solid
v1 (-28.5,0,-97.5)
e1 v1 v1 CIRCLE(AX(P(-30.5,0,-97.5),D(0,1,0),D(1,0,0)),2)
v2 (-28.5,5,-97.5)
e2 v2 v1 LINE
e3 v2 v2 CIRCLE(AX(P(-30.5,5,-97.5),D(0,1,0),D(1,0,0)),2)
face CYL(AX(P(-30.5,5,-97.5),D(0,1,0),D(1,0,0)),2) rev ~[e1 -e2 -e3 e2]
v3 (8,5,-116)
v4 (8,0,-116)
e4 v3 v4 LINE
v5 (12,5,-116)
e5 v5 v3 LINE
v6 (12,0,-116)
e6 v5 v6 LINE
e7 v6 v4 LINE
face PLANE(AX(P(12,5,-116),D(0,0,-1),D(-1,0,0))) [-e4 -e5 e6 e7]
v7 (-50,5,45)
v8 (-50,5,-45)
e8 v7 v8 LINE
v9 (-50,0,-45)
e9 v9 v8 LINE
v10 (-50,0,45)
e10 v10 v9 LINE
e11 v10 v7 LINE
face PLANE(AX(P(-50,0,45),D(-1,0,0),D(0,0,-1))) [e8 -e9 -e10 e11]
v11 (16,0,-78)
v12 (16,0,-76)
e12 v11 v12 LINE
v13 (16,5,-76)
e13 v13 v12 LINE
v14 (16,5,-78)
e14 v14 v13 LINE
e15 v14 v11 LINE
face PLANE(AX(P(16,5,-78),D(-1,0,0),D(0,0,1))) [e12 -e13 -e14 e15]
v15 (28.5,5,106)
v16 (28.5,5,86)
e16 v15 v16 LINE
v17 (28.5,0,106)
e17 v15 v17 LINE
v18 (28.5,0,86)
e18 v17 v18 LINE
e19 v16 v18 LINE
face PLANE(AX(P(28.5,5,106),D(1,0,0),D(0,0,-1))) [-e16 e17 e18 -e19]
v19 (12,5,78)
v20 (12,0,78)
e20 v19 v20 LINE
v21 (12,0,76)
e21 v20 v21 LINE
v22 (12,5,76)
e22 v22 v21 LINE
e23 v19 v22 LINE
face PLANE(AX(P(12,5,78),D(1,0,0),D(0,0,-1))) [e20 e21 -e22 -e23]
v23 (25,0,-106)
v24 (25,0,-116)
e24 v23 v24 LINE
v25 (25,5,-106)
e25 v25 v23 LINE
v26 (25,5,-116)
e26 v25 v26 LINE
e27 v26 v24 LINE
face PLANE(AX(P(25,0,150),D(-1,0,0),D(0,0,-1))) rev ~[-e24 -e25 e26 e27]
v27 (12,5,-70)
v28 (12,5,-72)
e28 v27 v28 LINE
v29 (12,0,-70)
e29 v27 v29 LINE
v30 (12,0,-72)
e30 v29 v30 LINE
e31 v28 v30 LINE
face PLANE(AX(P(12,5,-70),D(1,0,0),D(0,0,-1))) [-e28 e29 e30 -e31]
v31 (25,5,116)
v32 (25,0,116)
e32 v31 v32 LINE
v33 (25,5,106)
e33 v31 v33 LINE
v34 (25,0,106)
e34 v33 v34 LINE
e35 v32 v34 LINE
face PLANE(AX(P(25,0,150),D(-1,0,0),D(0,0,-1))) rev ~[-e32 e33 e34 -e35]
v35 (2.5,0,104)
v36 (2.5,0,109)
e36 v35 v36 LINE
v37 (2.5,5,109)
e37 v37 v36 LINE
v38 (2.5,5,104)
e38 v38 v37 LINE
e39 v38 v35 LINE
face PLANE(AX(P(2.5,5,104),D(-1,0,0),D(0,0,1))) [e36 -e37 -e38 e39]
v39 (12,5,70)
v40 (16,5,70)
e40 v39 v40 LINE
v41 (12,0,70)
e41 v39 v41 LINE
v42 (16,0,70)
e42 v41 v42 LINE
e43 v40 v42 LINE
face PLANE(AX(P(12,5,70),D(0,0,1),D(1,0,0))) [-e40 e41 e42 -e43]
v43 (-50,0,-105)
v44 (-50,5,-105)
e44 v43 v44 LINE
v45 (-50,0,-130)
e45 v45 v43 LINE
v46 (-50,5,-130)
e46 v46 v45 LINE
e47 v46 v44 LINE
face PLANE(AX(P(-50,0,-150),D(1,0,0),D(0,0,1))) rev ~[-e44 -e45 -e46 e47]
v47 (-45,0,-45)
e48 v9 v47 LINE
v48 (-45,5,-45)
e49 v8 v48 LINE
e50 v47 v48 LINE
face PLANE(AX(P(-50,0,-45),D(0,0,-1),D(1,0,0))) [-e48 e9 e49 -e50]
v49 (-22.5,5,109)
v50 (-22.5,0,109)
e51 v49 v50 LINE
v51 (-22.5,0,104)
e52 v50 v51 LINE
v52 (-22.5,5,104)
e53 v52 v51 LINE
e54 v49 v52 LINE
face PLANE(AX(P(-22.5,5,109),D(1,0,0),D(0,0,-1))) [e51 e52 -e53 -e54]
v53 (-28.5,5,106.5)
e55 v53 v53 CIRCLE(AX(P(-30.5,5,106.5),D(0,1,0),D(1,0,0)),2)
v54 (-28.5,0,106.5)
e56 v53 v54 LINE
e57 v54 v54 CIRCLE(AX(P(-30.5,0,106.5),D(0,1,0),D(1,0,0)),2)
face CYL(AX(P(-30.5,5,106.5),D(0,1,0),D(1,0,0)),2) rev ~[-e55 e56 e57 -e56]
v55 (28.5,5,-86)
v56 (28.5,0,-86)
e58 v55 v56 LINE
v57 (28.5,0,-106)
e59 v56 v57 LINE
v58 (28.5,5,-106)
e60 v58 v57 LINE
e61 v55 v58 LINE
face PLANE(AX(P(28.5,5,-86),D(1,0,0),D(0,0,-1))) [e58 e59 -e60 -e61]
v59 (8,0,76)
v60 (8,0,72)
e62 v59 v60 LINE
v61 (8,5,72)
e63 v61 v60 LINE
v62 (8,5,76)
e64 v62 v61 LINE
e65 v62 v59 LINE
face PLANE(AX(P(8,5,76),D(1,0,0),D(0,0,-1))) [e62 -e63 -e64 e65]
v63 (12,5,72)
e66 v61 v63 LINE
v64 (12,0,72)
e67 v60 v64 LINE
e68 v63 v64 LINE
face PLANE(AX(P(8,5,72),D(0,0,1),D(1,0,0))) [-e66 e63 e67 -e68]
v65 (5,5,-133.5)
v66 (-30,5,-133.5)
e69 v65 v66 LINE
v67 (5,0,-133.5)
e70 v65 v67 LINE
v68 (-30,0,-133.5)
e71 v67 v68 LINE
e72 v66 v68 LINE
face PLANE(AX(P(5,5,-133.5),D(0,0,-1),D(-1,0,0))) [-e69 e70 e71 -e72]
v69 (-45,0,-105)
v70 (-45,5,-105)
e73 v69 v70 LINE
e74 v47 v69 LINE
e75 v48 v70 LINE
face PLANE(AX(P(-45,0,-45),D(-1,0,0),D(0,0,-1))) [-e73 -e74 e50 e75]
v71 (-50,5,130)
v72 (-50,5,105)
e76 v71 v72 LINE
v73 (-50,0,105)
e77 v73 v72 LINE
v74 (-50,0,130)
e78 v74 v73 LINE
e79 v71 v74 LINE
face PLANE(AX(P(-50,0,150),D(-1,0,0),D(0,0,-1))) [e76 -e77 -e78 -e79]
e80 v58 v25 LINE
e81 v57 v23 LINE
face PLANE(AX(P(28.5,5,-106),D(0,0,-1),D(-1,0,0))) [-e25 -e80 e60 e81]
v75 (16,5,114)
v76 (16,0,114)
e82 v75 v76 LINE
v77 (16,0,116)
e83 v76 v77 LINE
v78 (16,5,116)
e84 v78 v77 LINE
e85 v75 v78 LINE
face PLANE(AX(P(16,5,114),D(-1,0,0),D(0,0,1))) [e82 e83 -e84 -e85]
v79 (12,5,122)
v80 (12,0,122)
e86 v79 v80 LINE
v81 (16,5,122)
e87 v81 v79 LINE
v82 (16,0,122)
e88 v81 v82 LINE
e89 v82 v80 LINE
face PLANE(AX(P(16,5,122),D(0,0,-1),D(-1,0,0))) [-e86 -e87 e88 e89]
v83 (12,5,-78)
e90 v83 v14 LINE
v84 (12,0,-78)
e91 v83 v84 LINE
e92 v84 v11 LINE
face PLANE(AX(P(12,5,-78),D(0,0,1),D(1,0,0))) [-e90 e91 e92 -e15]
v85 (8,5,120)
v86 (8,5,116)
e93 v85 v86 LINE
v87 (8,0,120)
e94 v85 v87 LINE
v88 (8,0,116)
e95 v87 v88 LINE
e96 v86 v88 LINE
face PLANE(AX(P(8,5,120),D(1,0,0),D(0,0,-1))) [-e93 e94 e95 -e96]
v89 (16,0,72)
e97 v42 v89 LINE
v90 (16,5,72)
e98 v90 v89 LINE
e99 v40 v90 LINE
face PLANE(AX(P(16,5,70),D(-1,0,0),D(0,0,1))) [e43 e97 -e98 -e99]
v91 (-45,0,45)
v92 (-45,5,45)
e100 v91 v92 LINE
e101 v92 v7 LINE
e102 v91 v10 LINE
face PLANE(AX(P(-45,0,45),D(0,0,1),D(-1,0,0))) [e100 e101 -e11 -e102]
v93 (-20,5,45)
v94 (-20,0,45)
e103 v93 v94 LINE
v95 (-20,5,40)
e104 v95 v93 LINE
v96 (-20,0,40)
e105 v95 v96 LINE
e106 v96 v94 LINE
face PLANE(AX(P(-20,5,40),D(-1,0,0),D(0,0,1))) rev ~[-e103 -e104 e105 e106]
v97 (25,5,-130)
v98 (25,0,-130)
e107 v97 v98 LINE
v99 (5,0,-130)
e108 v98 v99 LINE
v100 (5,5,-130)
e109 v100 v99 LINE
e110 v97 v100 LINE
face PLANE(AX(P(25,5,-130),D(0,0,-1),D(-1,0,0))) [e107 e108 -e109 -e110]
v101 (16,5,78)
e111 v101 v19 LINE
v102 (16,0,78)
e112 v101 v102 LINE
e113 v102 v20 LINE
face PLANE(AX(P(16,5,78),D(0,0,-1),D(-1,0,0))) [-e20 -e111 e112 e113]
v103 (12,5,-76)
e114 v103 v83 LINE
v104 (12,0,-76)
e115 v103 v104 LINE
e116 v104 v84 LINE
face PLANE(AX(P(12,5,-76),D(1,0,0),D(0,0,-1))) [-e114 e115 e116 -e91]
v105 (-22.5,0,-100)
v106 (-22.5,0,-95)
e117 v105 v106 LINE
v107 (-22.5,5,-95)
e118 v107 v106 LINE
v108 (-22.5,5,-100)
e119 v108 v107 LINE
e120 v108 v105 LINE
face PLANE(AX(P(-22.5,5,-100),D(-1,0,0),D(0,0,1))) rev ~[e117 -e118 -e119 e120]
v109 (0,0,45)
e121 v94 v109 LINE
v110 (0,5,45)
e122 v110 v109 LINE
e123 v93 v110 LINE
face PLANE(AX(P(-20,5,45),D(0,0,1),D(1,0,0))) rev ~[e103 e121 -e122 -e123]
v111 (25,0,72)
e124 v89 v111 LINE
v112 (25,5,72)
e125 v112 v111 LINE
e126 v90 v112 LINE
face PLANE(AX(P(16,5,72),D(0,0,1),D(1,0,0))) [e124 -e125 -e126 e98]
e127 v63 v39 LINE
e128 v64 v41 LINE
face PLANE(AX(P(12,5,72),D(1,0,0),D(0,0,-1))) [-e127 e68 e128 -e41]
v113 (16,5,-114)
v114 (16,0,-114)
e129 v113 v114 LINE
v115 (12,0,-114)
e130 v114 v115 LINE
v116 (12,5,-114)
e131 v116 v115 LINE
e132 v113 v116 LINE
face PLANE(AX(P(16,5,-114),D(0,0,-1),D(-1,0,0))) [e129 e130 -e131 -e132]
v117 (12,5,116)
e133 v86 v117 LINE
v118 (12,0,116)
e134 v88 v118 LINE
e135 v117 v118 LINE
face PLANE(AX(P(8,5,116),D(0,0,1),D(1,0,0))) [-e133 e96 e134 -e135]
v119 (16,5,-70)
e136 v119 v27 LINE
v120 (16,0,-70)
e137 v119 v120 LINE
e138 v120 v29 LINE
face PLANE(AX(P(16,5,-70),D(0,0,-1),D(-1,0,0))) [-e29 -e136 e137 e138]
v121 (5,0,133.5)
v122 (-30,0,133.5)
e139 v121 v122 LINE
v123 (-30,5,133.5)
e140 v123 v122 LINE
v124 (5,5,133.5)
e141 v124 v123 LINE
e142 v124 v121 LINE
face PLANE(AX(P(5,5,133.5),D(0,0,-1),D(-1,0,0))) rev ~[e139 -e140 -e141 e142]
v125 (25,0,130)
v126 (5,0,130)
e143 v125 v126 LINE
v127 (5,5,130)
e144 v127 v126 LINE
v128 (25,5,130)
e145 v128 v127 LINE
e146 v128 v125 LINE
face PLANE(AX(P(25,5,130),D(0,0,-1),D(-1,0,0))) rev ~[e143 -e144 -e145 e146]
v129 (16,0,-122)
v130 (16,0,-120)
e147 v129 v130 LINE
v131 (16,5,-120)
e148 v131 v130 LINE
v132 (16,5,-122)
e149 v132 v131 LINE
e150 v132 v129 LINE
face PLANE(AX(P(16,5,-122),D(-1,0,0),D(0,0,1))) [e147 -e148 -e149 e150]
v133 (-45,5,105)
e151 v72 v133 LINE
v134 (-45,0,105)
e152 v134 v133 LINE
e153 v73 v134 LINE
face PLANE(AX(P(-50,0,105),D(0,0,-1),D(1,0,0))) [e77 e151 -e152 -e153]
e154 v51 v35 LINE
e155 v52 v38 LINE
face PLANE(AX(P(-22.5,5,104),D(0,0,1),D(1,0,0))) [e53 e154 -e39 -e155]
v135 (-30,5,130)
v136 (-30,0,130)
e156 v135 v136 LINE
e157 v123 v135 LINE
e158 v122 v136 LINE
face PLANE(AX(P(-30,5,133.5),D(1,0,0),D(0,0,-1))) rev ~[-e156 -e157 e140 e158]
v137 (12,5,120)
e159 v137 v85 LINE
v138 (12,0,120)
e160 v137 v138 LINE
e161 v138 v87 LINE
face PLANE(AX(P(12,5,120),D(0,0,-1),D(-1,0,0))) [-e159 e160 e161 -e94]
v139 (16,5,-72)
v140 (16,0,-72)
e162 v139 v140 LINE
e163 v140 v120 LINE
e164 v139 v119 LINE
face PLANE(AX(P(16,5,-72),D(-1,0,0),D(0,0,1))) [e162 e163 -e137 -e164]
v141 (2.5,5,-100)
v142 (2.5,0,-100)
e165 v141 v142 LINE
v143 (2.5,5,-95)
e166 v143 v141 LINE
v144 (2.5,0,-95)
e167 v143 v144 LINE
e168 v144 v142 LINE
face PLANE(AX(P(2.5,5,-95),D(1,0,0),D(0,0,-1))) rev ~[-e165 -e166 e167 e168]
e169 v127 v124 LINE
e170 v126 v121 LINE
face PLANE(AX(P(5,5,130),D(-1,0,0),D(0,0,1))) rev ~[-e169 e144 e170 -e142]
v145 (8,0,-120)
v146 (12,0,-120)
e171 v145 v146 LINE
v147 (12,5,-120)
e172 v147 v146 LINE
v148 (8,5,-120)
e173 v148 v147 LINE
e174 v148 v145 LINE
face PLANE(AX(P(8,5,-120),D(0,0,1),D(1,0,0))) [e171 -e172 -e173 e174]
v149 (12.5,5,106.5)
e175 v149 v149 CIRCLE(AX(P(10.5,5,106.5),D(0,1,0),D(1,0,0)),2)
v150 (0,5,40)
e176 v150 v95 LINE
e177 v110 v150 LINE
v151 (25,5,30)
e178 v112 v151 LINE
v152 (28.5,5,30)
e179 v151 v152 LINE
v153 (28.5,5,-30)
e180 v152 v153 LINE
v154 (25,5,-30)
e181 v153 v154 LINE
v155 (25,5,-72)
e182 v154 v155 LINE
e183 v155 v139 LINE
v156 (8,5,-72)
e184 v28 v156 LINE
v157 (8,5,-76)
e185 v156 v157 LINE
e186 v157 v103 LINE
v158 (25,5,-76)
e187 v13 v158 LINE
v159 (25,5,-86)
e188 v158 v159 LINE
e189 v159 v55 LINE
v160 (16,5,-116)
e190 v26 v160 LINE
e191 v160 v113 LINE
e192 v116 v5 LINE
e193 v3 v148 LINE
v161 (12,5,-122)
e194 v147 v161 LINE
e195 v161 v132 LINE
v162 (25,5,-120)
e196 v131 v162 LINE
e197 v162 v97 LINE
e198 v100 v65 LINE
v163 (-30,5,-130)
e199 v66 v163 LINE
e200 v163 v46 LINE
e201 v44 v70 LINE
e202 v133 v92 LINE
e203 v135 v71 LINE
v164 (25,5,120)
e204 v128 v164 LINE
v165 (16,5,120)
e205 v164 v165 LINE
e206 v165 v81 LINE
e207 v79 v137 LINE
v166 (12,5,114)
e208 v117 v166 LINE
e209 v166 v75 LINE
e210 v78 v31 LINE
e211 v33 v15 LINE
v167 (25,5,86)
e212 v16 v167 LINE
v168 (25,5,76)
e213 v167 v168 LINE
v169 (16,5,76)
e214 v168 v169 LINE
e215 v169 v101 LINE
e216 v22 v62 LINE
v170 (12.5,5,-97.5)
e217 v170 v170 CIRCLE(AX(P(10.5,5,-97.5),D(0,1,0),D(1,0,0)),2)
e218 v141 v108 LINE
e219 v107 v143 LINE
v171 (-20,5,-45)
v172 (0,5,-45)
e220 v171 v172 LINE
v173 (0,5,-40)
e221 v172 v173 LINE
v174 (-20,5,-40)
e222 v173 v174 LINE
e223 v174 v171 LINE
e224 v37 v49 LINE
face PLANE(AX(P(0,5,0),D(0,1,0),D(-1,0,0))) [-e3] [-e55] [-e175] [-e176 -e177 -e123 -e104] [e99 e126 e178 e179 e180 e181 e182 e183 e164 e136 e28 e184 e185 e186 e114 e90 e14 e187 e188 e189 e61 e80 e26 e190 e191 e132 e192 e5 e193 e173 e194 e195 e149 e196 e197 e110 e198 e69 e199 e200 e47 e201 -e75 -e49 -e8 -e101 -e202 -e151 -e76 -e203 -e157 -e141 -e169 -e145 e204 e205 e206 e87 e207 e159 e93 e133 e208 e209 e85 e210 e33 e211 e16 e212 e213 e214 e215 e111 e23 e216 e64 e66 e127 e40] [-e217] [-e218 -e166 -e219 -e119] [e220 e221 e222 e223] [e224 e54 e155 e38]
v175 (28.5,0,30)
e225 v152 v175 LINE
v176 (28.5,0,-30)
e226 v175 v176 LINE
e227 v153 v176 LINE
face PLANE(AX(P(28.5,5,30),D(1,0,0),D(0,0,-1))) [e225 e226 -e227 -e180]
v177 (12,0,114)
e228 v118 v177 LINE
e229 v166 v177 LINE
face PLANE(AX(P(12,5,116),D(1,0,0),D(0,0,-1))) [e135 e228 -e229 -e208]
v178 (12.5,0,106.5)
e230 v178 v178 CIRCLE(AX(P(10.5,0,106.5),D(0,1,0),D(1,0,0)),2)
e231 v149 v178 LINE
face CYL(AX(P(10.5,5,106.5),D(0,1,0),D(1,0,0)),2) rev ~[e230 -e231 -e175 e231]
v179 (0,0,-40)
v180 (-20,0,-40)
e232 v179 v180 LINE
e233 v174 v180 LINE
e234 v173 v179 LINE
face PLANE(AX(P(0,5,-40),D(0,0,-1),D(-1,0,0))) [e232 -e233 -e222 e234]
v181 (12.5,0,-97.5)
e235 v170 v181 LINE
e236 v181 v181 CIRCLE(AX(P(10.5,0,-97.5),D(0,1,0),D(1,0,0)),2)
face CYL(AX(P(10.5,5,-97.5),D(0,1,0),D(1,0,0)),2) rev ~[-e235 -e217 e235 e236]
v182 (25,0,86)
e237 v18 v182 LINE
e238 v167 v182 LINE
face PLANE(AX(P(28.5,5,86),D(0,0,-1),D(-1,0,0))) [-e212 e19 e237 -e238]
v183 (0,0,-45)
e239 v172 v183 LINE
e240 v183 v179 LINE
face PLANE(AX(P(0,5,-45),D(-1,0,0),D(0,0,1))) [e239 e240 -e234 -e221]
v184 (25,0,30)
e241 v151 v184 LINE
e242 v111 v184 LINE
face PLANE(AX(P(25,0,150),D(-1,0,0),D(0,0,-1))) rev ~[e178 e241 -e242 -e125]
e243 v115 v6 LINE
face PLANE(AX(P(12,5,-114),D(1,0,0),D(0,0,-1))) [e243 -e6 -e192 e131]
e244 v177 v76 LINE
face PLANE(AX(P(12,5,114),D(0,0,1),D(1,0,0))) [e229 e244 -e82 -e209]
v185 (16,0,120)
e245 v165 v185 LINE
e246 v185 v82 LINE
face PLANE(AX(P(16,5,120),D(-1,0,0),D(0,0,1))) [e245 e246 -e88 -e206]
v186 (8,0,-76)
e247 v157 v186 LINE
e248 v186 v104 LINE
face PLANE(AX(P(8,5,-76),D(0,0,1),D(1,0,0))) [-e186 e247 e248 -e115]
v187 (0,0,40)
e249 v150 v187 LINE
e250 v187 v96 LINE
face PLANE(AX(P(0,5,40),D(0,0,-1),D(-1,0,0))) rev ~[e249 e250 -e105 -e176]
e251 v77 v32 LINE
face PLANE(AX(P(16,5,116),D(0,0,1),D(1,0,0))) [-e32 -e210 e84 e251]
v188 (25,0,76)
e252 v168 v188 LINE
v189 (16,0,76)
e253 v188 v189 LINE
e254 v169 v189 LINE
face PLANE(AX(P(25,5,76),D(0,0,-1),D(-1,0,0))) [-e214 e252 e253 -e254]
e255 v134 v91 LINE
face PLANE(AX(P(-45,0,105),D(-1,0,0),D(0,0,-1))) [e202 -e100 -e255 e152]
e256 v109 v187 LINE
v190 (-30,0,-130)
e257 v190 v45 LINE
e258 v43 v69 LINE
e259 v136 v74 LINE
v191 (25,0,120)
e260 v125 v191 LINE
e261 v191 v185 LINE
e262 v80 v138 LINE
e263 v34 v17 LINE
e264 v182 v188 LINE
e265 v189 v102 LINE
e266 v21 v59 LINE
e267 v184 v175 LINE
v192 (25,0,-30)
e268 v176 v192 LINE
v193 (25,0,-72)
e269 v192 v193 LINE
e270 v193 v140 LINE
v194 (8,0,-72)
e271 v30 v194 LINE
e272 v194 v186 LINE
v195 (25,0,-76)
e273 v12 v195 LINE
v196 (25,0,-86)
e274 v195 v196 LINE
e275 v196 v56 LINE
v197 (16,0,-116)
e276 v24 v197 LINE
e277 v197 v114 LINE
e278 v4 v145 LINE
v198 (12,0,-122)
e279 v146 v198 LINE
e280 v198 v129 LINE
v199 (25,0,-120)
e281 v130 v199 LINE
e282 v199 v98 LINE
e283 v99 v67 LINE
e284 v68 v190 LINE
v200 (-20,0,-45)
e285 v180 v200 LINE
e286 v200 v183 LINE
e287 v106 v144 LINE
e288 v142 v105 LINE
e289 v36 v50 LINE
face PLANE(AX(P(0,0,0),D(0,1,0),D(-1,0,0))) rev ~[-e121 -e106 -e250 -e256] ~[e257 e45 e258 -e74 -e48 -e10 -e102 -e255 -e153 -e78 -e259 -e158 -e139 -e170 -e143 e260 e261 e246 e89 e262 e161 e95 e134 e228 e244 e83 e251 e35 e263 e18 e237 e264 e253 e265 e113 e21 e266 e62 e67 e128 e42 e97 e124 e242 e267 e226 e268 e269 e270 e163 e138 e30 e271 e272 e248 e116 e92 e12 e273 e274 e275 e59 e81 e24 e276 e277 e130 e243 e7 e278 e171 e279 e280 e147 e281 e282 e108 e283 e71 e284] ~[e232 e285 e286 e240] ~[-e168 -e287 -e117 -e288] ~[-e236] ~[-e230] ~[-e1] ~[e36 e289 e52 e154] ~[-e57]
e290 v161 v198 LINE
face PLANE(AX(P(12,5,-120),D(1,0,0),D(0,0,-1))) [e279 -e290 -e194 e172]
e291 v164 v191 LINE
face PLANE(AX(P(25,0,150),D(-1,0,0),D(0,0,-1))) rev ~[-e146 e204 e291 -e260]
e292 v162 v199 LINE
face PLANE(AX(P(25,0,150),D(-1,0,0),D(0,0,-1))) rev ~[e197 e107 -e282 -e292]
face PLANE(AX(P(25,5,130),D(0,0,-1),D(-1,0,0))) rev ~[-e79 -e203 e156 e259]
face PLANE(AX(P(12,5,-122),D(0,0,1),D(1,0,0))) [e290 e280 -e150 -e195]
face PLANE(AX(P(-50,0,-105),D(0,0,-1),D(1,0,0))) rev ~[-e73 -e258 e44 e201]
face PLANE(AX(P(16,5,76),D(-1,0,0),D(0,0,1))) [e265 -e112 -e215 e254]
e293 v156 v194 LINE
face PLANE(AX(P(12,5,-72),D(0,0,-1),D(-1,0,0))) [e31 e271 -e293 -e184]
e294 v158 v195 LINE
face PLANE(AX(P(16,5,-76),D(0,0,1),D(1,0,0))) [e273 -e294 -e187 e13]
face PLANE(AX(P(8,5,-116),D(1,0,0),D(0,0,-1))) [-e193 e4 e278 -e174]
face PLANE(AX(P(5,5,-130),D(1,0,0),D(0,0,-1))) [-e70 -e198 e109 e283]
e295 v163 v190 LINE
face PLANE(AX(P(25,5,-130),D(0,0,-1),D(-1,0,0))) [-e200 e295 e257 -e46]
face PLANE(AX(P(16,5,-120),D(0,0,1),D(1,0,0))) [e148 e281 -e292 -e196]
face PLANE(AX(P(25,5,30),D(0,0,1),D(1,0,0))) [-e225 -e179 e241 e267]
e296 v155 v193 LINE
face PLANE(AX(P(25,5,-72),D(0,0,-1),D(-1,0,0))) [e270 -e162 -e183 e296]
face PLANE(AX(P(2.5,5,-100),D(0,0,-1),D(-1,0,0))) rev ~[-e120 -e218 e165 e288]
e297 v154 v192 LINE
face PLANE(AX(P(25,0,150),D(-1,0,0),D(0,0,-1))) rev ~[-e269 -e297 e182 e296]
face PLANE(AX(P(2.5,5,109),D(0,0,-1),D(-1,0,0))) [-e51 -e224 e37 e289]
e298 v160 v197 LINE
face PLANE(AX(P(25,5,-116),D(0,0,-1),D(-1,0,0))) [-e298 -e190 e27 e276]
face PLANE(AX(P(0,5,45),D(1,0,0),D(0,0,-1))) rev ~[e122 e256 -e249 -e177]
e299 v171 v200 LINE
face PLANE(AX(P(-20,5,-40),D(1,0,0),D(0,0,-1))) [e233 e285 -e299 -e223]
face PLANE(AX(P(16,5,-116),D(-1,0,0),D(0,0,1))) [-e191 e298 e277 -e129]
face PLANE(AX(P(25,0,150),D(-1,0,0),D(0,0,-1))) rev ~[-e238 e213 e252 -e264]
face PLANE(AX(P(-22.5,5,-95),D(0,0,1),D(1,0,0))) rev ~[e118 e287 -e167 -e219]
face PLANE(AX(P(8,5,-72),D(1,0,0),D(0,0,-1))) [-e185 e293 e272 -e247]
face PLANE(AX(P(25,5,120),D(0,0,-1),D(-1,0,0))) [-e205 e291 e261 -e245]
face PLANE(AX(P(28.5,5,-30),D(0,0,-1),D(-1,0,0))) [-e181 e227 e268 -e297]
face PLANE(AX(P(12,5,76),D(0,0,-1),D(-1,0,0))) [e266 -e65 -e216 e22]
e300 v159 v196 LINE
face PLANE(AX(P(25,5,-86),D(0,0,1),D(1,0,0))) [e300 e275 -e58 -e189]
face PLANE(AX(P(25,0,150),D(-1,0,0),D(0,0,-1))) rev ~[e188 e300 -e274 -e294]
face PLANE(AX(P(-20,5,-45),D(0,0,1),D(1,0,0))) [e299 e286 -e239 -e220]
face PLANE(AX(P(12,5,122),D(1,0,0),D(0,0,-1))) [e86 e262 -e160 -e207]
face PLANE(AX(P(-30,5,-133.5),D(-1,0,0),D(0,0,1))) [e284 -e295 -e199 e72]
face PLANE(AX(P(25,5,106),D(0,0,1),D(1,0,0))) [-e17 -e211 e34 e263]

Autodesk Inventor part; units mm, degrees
ref_plane "YZ Plane" through (0, 0, 0) normal (1, 0, 0) x (0, 1, 0)
ref_plane "XZ Plane" through (0, 0, 0) normal (0, 1, 0) x (-1, 0, 0)
ref_plane "XY Plane" through (0, 0, 0) normal (0, 0, 1) x (1, 0, 0)
sketch "Sketch1" plane through (0, 0, 0) normal (0, 1, 0) x (-1, 0, 0)
  line L0 (-25, -150) -> (25, -150)
  line L1 (25, 150) -> (-25, 150)
  line L2 (-25, 150) -> (-25, -150)
  line L3 (-25, -150) -> (25, 150) construction
  line L4 (25, -150) -> (-25, 150) construction
  line L5 (25, 150) -> (50, 150)
  line L6 (50, 150) -> (50, 105)
  line L7 (50, 105) -> (45, 105)
  line L8 (25, -150) -> (50, -150)
  line L9 (50, -150) -> (50, -105)
  line L10 (50, -105) -> (45, -105)
  line L11 (50, 105) -> (45, 105) construction
  line L12 (45, 105) -> (45, 45) construction
  line L13 (45, 45) -> (50, 45) construction
  line L14 (50, 45) -> (50, 105) construction
  line L15 (50, -105) -> (45, -105) construction
  line L16 (45, -105) -> (45, -45) construction
  line L17 (45, -45) -> (50, -45) construction
  line L18 (50, -45) -> (50, -105) construction
  line L19 (45, 45) -> (50, 45)
  line L20 (50, 45) -> (50, -45)
  line L21 (50, -45) -> (45, -45)
  line L22 (45, 105) -> (45, 45)
  line L23 (45, -45) -> (45, -105)
  point P0 (0, 0)
  dimension "d1" = 300
  dimension "d8" = 5
  dimension "d10" = 5
  dimension "d11" = 45
  dimension "d13" = 60
  dimension "d14" = 75
  dimension "d15" = 75
  dimension "d29" = 90
  dimension "d30" = 45
  dimension "d31" = 60
extrude "Extrusion1" add sketch "Sketch1" along normal blind 5
sketch "Sketch2" plane through (0, 5, 0) normal (0, 1, 0) x (1, 0, 0)
  line L0 (25, 150) -> (-50, 150) construction
  line L1 (-50, 150) -> (-50, 105) construction
  line L2 (-50, 105) -> (-45, 105) construction
  line L3 (-45, 105) -> (-45, 45) construction
  line L4 (-45, 45) -> (-50, 45) construction
  line L5 (-50, 45) -> (-50, -45) construction
  line L6 (-50, -45) -> (-45, -45) construction
  line L7 (-45, -45) -> (-45, -105) construction
  line L8 (-45, -105) -> (-50, -105) construction
  line L9 (-50, -105) -> (-50, -150) construction
  line L10 (-50, -150) -> (25, -150) construction
  line L11 (25, -150) -> (25, 150) construction
  line L12 (-50, -150) -> (25, -150)
  line L13 (25, -150) -> (25, -130)
  line L14 (25, -130) -> (-50, -130)
  line L15 (-50, -130) -> (-50, -150)
  line L16 (25, -150) -> (25, 150) projected
  line L17 (-50, 150) -> (25, 150)
  line L18 (25, 150) -> (25, 130)
  line L19 (25, 130) -> (-50, 130)
  line L20 (-50, 130) -> (-50, 150)
  point P0 (0, 0)
  dimension "d16" = 20
  dimension "d17" = 20
extrude "Extrusion2" cut sketch "Sketch2" against normal blind 5
sketch "Sketch3" plane through (0, 5, 0) normal (0, 1, 0) x (1, 0, 0)
  line L0 (-50, -130) -> (25, -130) construction
  line L1 (25, -130) -> (25, 130) construction
  line L2 (25, 130) -> (-50, 130) construction
  line L3 (-50, 130) -> (-50, 105) construction
  line L4 (-50, 105) -> (-45, 105) construction
  line L5 (-45, 105) -> (-45, 45) construction
  line L6 (-45, 45) -> (-50, 45) construction
  line L7 (-50, 45) -> (-50, -45) construction
  line L8 (-50, -45) -> (-45, -45) construction
  line L9 (-45, -45) -> (-45, -105) construction
  line L10 (-45, -105) -> (-50, -105) construction
  line L11 (-50, -105) -> (-50, -130) construction
  line L12 (2.5, 100) -> (-22.5, 100)
  line L13 (-22.5, 100) -> (-22.5, 95)
  line L14 (-22.5, 95) -> (2.5, 95)
  line L15 (2.5, 95) -> (2.5, 100)
  line L16 (2.5, -109) -> (-22.5, -109)
  line L17 (-22.5, -109) -> (-22.5, -104)
  line L18 (-22.5, -104) -> (2.5, -104)
  line L19 (2.5, -104) -> (2.5, -109)
  point P0 (0, 0)
  dimension "d20" = 25
  dimension "d21" = 5
  dimension "d22" = 22.5
  dimension "d23" = 35
  dimension "d26" = 5
  dimension "d27" = 25
  dimension "d28" = 26
  dimension "d32" = 22.5
extrude "Extrusion3" cut sketch "Sketch3" against normal blind 5
sketch "Sketch4" plane through (0, 5, 0) normal (0, 1, 0) x (1, 0, 0)
  line L0 (-22.5, 95) -> (-22.5, 100) construction
  line L1 (-22.5, 100) -> (2.5, 100) construction
  line L2 (2.5, 100) -> (2.5, 95) construction
  line L3 (2.5, 95) -> (-22.5, 95) construction
  line L4 (2.5, -109) -> (-22.5, -109) construction
  line L5 (-22.5, -109) -> (-22.5, -104) construction
  line L6 (-22.5, -104) -> (2.5, -104) construction
  line L7 (2.5, -104) -> (2.5, -109) construction
  line L8 (-50, -130) -> (25, -130) construction
  line L9 (25, -130) -> (25, 130) construction
  line L10 (25, 130) -> (-50, 130) construction
  line L11 (-50, 130) -> (-50, 105) construction
  line L12 (-50, 105) -> (-45, 105) construction
  line L13 (-45, 105) -> (-45, 45) construction
  line L14 (-45, 45) -> (-50, 45) construction
  line L15 (-50, 45) -> (-50, -45) construction
  line L16 (-50, -45) -> (-45, -45) construction
  line L17 (-45, -45) -> (-45, -105) construction
  line L18 (-45, -105) -> (-50, -105) construction
  line L19 (-50, -105) -> (-50, -130) construction
  line L20 (2.5, 97.5) -> (25, 97.5) construction
  line L21 (-22.5, 97.5) -> (-45, 97.5) construction
  line L22 (-22.5, -104) -> (-22.5, -109) construction
  line L23 (-22.5, -106.5) -> (-50, -106.5) construction
  line L24 (2.5, -109) -> (2.5, -104) construction
  line L25 (2.5, -106.5) -> (25, -106.5) construction
  circle A0 centre (-30.5, -106.5) radius 2
  circle A1 centre (10.5, -106.5) radius 2
  circle A2 centre (-30.5, 97.5) radius 2
  circle A3 centre (10.5, 97.5) radius 2
  point P0 (0, 0)
  dimension "d33" = 4
  dimension "d34" = 4
  dimension "d35" = 4
  dimension "d36" = 4
  dimension "d37" = 8
  dimension "d38" = 8
  dimension "d39" = 8
  dimension "d40" = 8
extrude "Extrusion4" cut sketch "Sketch4" against normal blind 5
sketch "Sketch5" plane through (0, 5, 0) normal (0, 1, 0) x (1, 0, 0)
  circle A0 centre (-30.5, 97.5) radius 2 construction
  circle A1 centre (-30.5, -106.5) radius 2 construction
  circle A2 centre (10.5, -106.5) radius 2 construction
  circle A3 centre (10.5, 97.5) radius 2 construction
  line L0 (-22.5, 95) -> (-22.5, 100) construction
  line L1 (-22.5, 100) -> (2.5, 100) construction
  line L2 (2.5, 100) -> (2.5, 95) construction
  line L3 (2.5, 95) -> (-22.5, 95) construction
  line L4 (2.5, -109) -> (-22.5, -109) construction
  line L5 (-22.5, -109) -> (-22.5, -104) construction
  line L6 (-22.5, -104) -> (2.5, -104) construction
  line L7 (2.5, -104) -> (2.5, -109) construction
  line L8 (-50, -130) -> (25, -130) construction
  line L9 (25, -130) -> (25, 130) construction
  line L10 (25, 130) -> (-50, 130) construction
  line L11 (-50, 130) -> (-50, 105) construction
  line L12 (-50, 105) -> (-45, 105) construction
  line L13 (-45, 105) -> (-45, 45) construction
  line L14 (-45, 45) -> (-50, 45) construction
  line L15 (-50, 45) -> (-50, -45) construction
  line L16 (-50, -45) -> (-45, -45) construction
  line L17 (-45, -45) -> (-45, -105) construction
  line L18 (-45, -105) -> (-50, -105) construction
  line L19 (-50, -105) -> (-50, -130) construction
  line L20 (-45, 45) -> (25, 45) construction
  line L21 (-45, -45) -> (25, -45) construction
  line L22 (-20, -45) -> (0, -45)
  line L23 (0, -45) -> (0, -40)
  line L24 (0, -40) -> (-20, -40)
  line L25 (-20, -40) -> (-20, -45)
  line L26 (-50, 0) -> (25, 0) construction
  line L27 (-20, 45) -> (0, 45)
  line L28 (0, 45) -> (0, 40)
  line L29 (0, 40) -> (-20, 40)
  line L30 (-20, 40) -> (-20, 45)
  point P0 (0, 0)
  dimension "d43" = 20
  dimension "d44" = 5
  dimension "d45" = 25
extrude "Extrusion5" cut sketch "Sketch5" against normal blind 10
sketch "Sketch6" plane through (0, 5, 0) normal (0, 1, 0) x (1, 0, 0)
  line L0 (0, -40) -> (0, -45) construction
  line L1 (0, -45) -> (-20, -45) construction
  line L2 (-20, -45) -> (-20, -40) construction
  line L3 (-20, -40) -> (0, -40) construction
  line L4 (0, 45) -> (0, 40) construction
  line L5 (0, 40) -> (-20, 40) construction
  line L6 (-20, 40) -> (-20, 45) construction
  line L7 (-20, 45) -> (0, 45) construction
  circle A0 centre (-30.5, 97.5) radius 2 construction
  circle A1 centre (-30.5, -106.5) radius 2 construction
  circle A2 centre (10.5, -106.5) radius 2 construction
  circle A3 centre (10.5, 97.5) radius 2 construction
  line L8 (-22.5, 95) -> (-22.5, 100) construction
  line L9 (-22.5, 100) -> (2.5, 100) construction
  line L10 (2.5, 100) -> (2.5, 95) construction
  line L11 (2.5, 95) -> (-22.5, 95) construction
  line L12 (2.5, -109) -> (-22.5, -109) construction
  line L13 (-22.5, -109) -> (-22.5, -104) construction
  line L14 (-22.5, -104) -> (2.5, -104) construction
  line L15 (2.5, -104) -> (2.5, -109) construction
  line L16 (-50, -130) -> (25, -130) construction
  line L17 (25, -130) -> (25, 130) construction
  line L18 (25, 130) -> (-50, 130) construction
  line L19 (-50, 130) -> (-50, 105) construction
  line L20 (-50, 105) -> (-45, 105) construction
  line L21 (-45, 105) -> (-45, 45) construction
  line L22 (-45, 45) -> (-50, 45) construction
  line L23 (-50, 45) -> (-50, -45) construction
  line L24 (-50, -45) -> (-45, -45) construction
  line L25 (-45, -45) -> (-45, -105) construction
  line L26 (-45, -105) -> (-50, -105) construction
  line L27 (-50, -105) -> (-50, -130) construction
  line L28 (25, -130) -> (25, 130) construction
  line L29 (25, -120) -> (10, -120) construction
  line L30 (10, -120) -> (10, -116) construction
  line L31 (10, -116) -> (25, -116) construction
  line L32 (25, -116) -> (25, -120) construction
  line L33 (10, -118) -> (25, -118) construction
  line L34 (18, -114) -> (14, -114) construction
  line L35 (14, -114) -> (14, -122) construction
  line L36 (14, -122) -> (18, -122) construction
  line L37 (18, -122) -> (18, -114) construction
  line L38 (18, -114) -> (14, -122) construction
  line L39 (14, -114) -> (18, -122) construction
  line L40 (25, -116) -> (25, -120)
  line L41 (25, -120) -> (18, -120)
  line L42 (18, -120) -> (18, -122)
  line L43 (18, -122) -> (14, -122)
  line L44 (14, -122) -> (14, -120)
  line L45 (14, -120) -> (10, -120)
  line L46 (10, -120) -> (10, -116)
  line L47 (10, -116) -> (14, -116)
  line L48 (14, -116) -> (14, -114)
  line L49 (14, -114) -> (18, -114)
  line L50 (18, -114) -> (18, -116)
  line L51 (18, -116) -> (25, -116)
  line L52 (25, -76) -> (10, -76) construction
  line L53 (10, -76) -> (10, -72) construction
  line L54 (10, -72) -> (25, -72) construction
  line L55 (25, -72) -> (25, -76) construction
  line L56 (10, -74) -> (25, -74) construction
  line L57 (18, -70) -> (14, -70) construction
  line L58 (14, -70) -> (14, -78) construction
  line L59 (14, -78) -> (18, -78) construction
  line L60 (18, -78) -> (18, -70) construction
  line L61 (18, -70) -> (14, -78) construction
  line L62 (14, -70) -> (18, -78) construction
  line L63 (25, -72) -> (25, -76)
  line L64 (25, -76) -> (18, -76)
  line L65 (18, -76) -> (18, -78)
  line L66 (18, -78) -> (14, -78)
  line L67 (14, -78) -> (14, -76)
  line L68 (14, -76) -> (10, -76)
  line L69 (10, -76) -> (10, -72)
  line L70 (10, -72) -> (14, -72)
  line L71 (14, -72) -> (14, -70)
  line L72 (14, -70) -> (18, -70)
  line L73 (18, -70) -> (18, -72)
  line L74 (18, -72) -> (25, -72)
  line L75 (25, -106) -> (28.5, -106)
  line L76 (28.5, -106) -> (28.5, -86)
  line L77 (28.5, -86) -> (25, -86)
  line L78 (25, -86) -> (25, -106)
  line L79 (25, 72) -> (10, 72) construction
  line L80 (10, 72) -> (10, 76) construction
  line L81 (10, 76) -> (25, 76) construction
  line L82 (25, 76) -> (25, 72) construction
  line L83 (10, 74) -> (25, 74) construction
  line L84 (18, 78) -> (14, 78) construction
  line L85 (14, 78) -> (14, 70) construction
  line L86 (14, 70) -> (18, 70) construction
  line L87 (18, 70) -> (18, 78) construction
  line L88 (18, 78) -> (14, 70) construction
  line L89 (14, 78) -> (18, 70) construction
  line L90 (25, 76) -> (25, 72)
  line L91 (25, 72) -> (18, 72)
  line L92 (18, 72) -> (18, 70)
  line L93 (18, 70) -> (14, 70)
  line L94 (14, 70) -> (14, 72)
  line L95 (14, 72) -> (10, 72)
  line L96 (10, 72) -> (10, 76)
  line L97 (10, 76) -> (14, 76)
  line L98 (14, 76) -> (14, 78)
  line L99 (14, 78) -> (18, 78)
  line L100 (18, 78) -> (18, 76)
  line L101 (18, 76) -> (25, 76)
  line L102 (18, 122) -> (14, 122) construction
  line L103 (14, 122) -> (18, 122)
  line L104 (18, 122) -> (18, 120)
  line L105 (10, 120) -> (25, 120) construction
  line L106 (10, 118) -> (25, 118) construction
  line L107 (25, 116) -> (10, 116) construction
  line L108 (18, 114) -> (18, 122) construction
  line L109 (18, 122) -> (14, 114) construction
  line L110 (14, 122) -> (18, 114) construction
  line L111 (14, 122) -> (14, 114) construction
  line L112 (14, 114) -> (18, 114) construction
  line L113 (18, 114) -> (14, 114)
  line L114 (18, 116) -> (18, 114)
  line L115 (25, 116) -> (18, 116)
  line L116 (25, 120) -> (25, 116) construction
  line L117 (25, 120) -> (25, 116)
  line L118 (18, 120) -> (25, 120)
  line L119 (10, 116) -> (10, 120) construction
  line L120 (14, 114) -> (14, 116)
  line L121 (14, 120) -> (14, 122)
  line L122 (10, 120) -> (14, 120)
  line L123 (14, 116) -> (10, 116)
  line L124 (10, 116) -> (10, 120)
  line L125 (25, 86) -> (28.5, 86)
  line L126 (28.5, 86) -> (28.5, 106)
  line L127 (28.5, 106) -> (25, 106)
  line L128 (25, 106) -> (25, 86)
  line L129 (25, -30) -> (28.5, -30)
  line L130 (28.5, -30) -> (28.5, 30)
  line L131 (28.5, 30) -> (25, 30)
  line L132 (25, 30) -> (25, -30)
  line L133 (25, -130) -> (25, 130) projected
  point P0 (0, 0)
  point P1 (16, -118)
  point P2 (16, -74)
  point P3 (16, 74)
  point P4 (16, 118)
  dimension "d48" = 15
  dimension "d49" = 4
  dimension "d50" = 4
  dimension "d51" = 8
  dimension "d52" = 4
  dimension "d53" = 10
  dimension "d54" = 15
  dimension "d55" = 4
  dimension "d56" = 4
  dimension "d57" = 8
  dimension "d58" = 4
  dimension "d60" = 40
  dimension "d61" = 3.5
  dimension "d62" = 20
  dimension "d63" = 10
  dimension "d64" = 15
  dimension "d65" = 4
  dimension "d66" = 4
  dimension "d67" = 8
  dimension "d68" = 4
  dimension "d69" = 15
  dimension "d70" = 4
  dimension "d71" = 4
  dimension "d72" = 8
  dimension "d73" = 4
  dimension "d74" = 40
  dimension "d75" = 3.5
  dimension "d76" = 20
  dimension "d77" = 10
  dimension "d78" = 10
  dimension "d79" = 3.5
  dimension "d80" = 60
  dimension "d81" = 30
extrude "Extrusion6" add sketch "Sketch6" against normal blind 5 contours L128 L127 L126 L125 | L132 L131 L130 L129 | L78 L77 L76 L75
sketch "Sketch8" plane through (0, 5, 0) normal (0, 1, 0) x (1, 0, 0)
  line L0 (0, -40) -> (0, -45) construction
  line L1 (0, -45) -> (-20, -45) construction
  line L2 (-20, -45) -> (-20, -40) construction
  line L3 (-20, -40) -> (0, -40) construction
  line L4 (0, 45) -> (0, 40) construction
  line L5 (0, 40) -> (-20, 40) construction
  line L6 (-20, 40) -> (-20, 45) construction
  line L7 (-20, 45) -> (0, 45) construction
  circle A0 centre (-30.5, 97.5) radius 2 construction
  circle A1 centre (-30.5, -106.5) radius 2 construction
  circle A2 centre (10.5, -106.5) radius 2 construction
  circle A3 centre (10.5, 97.5) radius 2 construction
  line L8 (-22.5, 95) -> (-22.5, 100) construction
  line L9 (-22.5, 100) -> (2.5, 100) construction
  line L10 (2.5, 100) -> (2.5, 95) construction
  line L11 (2.5, 95) -> (-22.5, 95) construction
  line L12 (2.5, -109) -> (-22.5, -109) construction
  line L13 (-22.5, -109) -> (-22.5, -104) construction
  line L14 (-22.5, -104) -> (2.5, -104) construction
  line L15 (2.5, -104) -> (2.5, -109) construction
  line L16 (-50, -130) -> (25, -130) construction
  line L17 (25, -130) -> (25, -106) construction
  line L18 (25, -106) -> (28.5, -106) construction
  line L19 (28.5, -106) -> (28.5, -86) construction
  line L20 (28.5, -86) -> (25, -86) construction
  line L21 (25, -86) -> (25, -30) construction
  line L22 (25, -30) -> (28.5, -30) construction
  line L23 (28.5, -30) -> (28.5, 30) construction
  line L24 (28.5, 30) -> (25, 30) construction
  line L25 (25, 30) -> (25, 86) construction
  line L26 (28.5, 86) -> (25, 86) construction
  line L27 (28.5, 106) -> (28.5, 86) construction
  line L28 (25, 106) -> (28.5, 106) construction
  line L29 (25, 106) -> (25, 130) construction
  line L30 (25, 130) -> (-50, 130) construction
  line L31 (-50, 130) -> (-50, 105) construction
  line L32 (-50, 105) -> (-45, 105) construction
  line L33 (-45, 105) -> (-45, 45) construction
  line L34 (-45, 45) -> (-50, 45) construction
  line L35 (-50, 45) -> (-50, -45) construction
  line L36 (-50, -45) -> (-45, -45) construction
  line L37 (-45, -45) -> (-45, -105) construction
  line L38 (-45, -105) -> (-50, -105) construction
  line L39 (-50, -105) -> (-50, -130) construction
  line L40 (25, -130) -> (25, -106) construction
  line L41 (25, -120) -> (8, -120) construction
  line L42 (8, -120) -> (8, -116) construction
  line L43 (8, -116) -> (25, -116) construction
  line L44 (25, -116) -> (25, -120) construction
  line L45 (8, -118) -> (25, -118) construction
  line L46 (16, -122) -> (12, -122) construction
  line L47 (12, -122) -> (12, -114) construction
  line L48 (12, -114) -> (16, -114) construction
  line L49 (16, -114) -> (16, -122) construction
  line L50 (16, -122) -> (12, -114) construction
  line L51 (12, -122) -> (16, -114) construction
  line L52 (25, -120) -> (16, -120)
  line L53 (16, -120) -> (16, -122)
  line L54 (16, -122) -> (12, -122)
  line L55 (12, -122) -> (12, -120)
  line L56 (12, -120) -> (8, -120)
  line L57 (8, -120) -> (8, -116)
  line L58 (8, -116) -> (12, -116)
  line L59 (12, -116) -> (12, -114)
  line L60 (12, -114) -> (16, -114)
  line L61 (16, -114) -> (16, -116)
  line L62 (16, -116) -> (25, -116)
  line L63 (25, -120) -> (25, -116)
  line L64 (25, -76) -> (8, -76) construction
  line L65 (8, -76) -> (8, -72) construction
  line L66 (8, -72) -> (25, -72) construction
  line L67 (25, -72) -> (25, -76) construction
  line L68 (8, -74) -> (25, -74) construction
  line L69 (16, -78) -> (12, -78) construction
  line L70 (12, -78) -> (12, -70) construction
  line L71 (12, -70) -> (16, -70) construction
  line L72 (16, -70) -> (16, -78) construction
  line L73 (16, -78) -> (12, -70) construction
  line L74 (12, -78) -> (16, -70) construction
  line L75 (25, -76) -> (16, -76)
  line L76 (16, -76) -> (16, -78)
  line L77 (16, -78) -> (12, -78)
  line L78 (12, -78) -> (12, -76)
  line L79 (12, -76) -> (8, -76)
  line L80 (8, -76) -> (8, -72)
  line L81 (8, -72) -> (12, -72)
  line L82 (12, -72) -> (12, -70)
  line L83 (12, -70) -> (16, -70)
  line L84 (16, -70) -> (16, -72)
  line L85 (16, -72) -> (25, -72)
  line L86 (25, -76) -> (25, -72)
  line L87 (25, 72) -> (8, 72) construction
  line L88 (8, 72) -> (8, 76) construction
  line L89 (8, 76) -> (25, 76) construction
  line L90 (25, 76) -> (25, 72) construction
  line L91 (8, 74) -> (25, 74) construction
  line L92 (16, 70) -> (12, 70) construction
  line L93 (12, 70) -> (12, 78) construction
  line L94 (12, 78) -> (16, 78) construction
  line L95 (16, 78) -> (16, 70) construction
  line L96 (16, 70) -> (12, 78) construction
  line L97 (12, 70) -> (16, 78) construction
  line L98 (25, 72) -> (16, 72)
  line L99 (16, 72) -> (16, 70)
  line L100 (16, 70) -> (12, 70)
  line L101 (12, 70) -> (12, 72)
  line L102 (12, 72) -> (8, 72)
  line L103 (8, 72) -> (8, 76)
  line L104 (8, 76) -> (12, 76)
  line L105 (12, 76) -> (12, 78)
  line L106 (12, 78) -> (16, 78)
  line L107 (16, 78) -> (16, 76)
  line L108 (16, 76) -> (25, 76)
  line L109 (25, 72) -> (25, 76)
  line L110 (25, 116) -> (8, 116) construction
  line L111 (8, 116) -> (8, 120) construction
  line L112 (8, 120) -> (25, 120) construction
  line L113 (25, 120) -> (25, 116) construction
  line L114 (8, 118) -> (25, 118) construction
  line L115 (16, 114) -> (12, 114) construction
  line L116 (12, 114) -> (12, 122) construction
  line L117 (12, 122) -> (16, 122) construction
  line L118 (16, 122) -> (16, 114) construction
  line L119 (16, 114) -> (12, 122) construction
  line L120 (12, 114) -> (16, 122) construction
  line L121 (25, 116) -> (16, 116)
  line L122 (16, 116) -> (16, 114)
  line L123 (16, 114) -> (12, 114)
  line L124 (12, 114) -> (12, 116)
  line L125 (12, 116) -> (8, 116)
  line L126 (8, 116) -> (8, 120)
  line L127 (8, 120) -> (12, 120)
  line L128 (12, 120) -> (12, 122)
  line L129 (12, 122) -> (16, 122)
  line L130 (16, 122) -> (16, 120)
  line L131 (16, 120) -> (25, 120)
  line L132 (25, 116) -> (25, 120)
  point P0 (14, -118)
  point P1 (14, -74)
  point P2 (14, 74)
  point P3 (14, 118)
  dimension "d152" = 17
  dimension "d153" = 4
  dimension "d154" = 4
  dimension "d155" = 8
  dimension "d156" = 10
  dimension "d157" = 17
  dimension "d158" = 4
  dimension "d159" = 4
  dimension "d160" = 8
  dimension "d161" = 17
  dimension "d162" = 4
  dimension "d163" = 4
  dimension "d164" = 8
  dimension "d165" = 17
  dimension "d166" = 4
  dimension "d167" = 4
  dimension "d168" = 8
  dimension "d169" = 10
  dimension "d170" = 10
  dimension "d171" = 10
  dimension "d182" = 4
  dimension "d183" = 0
  dimension "d184" = 4
  dimension "d185" = 0
  dimension "d186" = 4
  dimension "d187" = 0
  dimension "d188" = 4
extrude "Extrusion7" cut sketch "Sketch8" against normal blind 10
sketch "Sketch9" plane through (0, 5, 0) normal (0, 1, 0) x (1, 0, 0)
  line L0 (16, 76) -> (25, 76) construction
  line L1 (25, 76) -> (25, 86) construction
  line L2 (28.5, 86) -> (25, 86) construction
  line L3 (28.5, 106) -> (28.5, 86) construction
  line L4 (25, 106) -> (28.5, 106) construction
  line L5 (25, 106) -> (25, 116) construction
  line L6 (25, 116) -> (16, 116) construction
  line L7 (16, 116) -> (16, 114) construction
  line L8 (16, 114) -> (12, 114) construction
  line L9 (12, 114) -> (12, 116) construction
  line L10 (12, 116) -> (8, 116) construction
  line L11 (8, 116) -> (8, 120) construction
  line L12 (8, 120) -> (12, 120) construction
  line L13 (12, 120) -> (12, 122) construction
  line L14 (12, 122) -> (16, 122) construction
  line L15 (16, 122) -> (16, 120) construction
  line L16 (16, 120) -> (25, 120) construction
  line L17 (25, 120) -> (25, 130) construction
  line L18 (25, 130) -> (-50, 130) construction
  line L19 (-50, 130) -> (-50, 105) construction
  line L20 (-50, 105) -> (-45, 105) construction
  line L21 (-45, 105) -> (-45, 45) construction
  line L22 (-45, 45) -> (-50, 45) construction
  line L23 (-50, 45) -> (-50, -45) construction
  line L24 (-50, -45) -> (-45, -45) construction
  line L25 (-45, -45) -> (-45, -105) construction
  line L26 (-45, -105) -> (-50, -105) construction
  line L27 (-50, -105) -> (-50, -130) construction
  line L28 (-50, -130) -> (25, -130) construction
  line L29 (25, -130) -> (25, -120) construction
  line L30 (25, -120) -> (16, -120) construction
  line L31 (16, -120) -> (16, -122) construction
  line L32 (16, -122) -> (12, -122) construction
  line L33 (12, -122) -> (12, -120) construction
  line L34 (12, -120) -> (8, -120) construction
  line L35 (8, -120) -> (8, -116) construction
  line L36 (8, -116) -> (12, -116) construction
  line L37 (12, -116) -> (12, -114) construction
  line L38 (12, -114) -> (16, -114) construction
  line L39 (16, -114) -> (16, -116) construction
  line L40 (16, -116) -> (25, -116) construction
  line L41 (25, -116) -> (25, -106) construction
  line L42 (25, -106) -> (28.5, -106) construction
  line L43 (28.5, -106) -> (28.5, -86) construction
  line L44 (28.5, -86) -> (25, -86) construction
  line L45 (25, -86) -> (25, -76) construction
  line L46 (25, -76) -> (16, -76) construction
  line L47 (16, -76) -> (16, -78) construction
  line L48 (16, -78) -> (12, -78) construction
  line L49 (12, -78) -> (12, -76) construction
  line L50 (12, -76) -> (8, -76) construction
  line L51 (8, -76) -> (8, -72) construction
  line L52 (8, -72) -> (12, -72) construction
  line L53 (12, -72) -> (12, -70) construction
  line L54 (12, -70) -> (16, -70) construction
  line L55 (16, -70) -> (16, -72) construction
  line L56 (16, -72) -> (25, -72) construction
  line L57 (25, -72) -> (25, -30) construction
  line L58 (25, -30) -> (28.5, -30) construction
  line L59 (28.5, -30) -> (28.5, 30) construction
  line L60 (28.5, 30) -> (25, 30) construction
  line L61 (25, 30) -> (25, 72) construction
  line L62 (25, 72) -> (16, 72) construction
  line L63 (16, 72) -> (16, 70) construction
  line L64 (16, 70) -> (12, 70) construction
  line L65 (12, 70) -> (12, 72) construction
  line L66 (12, 72) -> (8, 72) construction
  line L67 (8, 72) -> (8, 76) construction
  line L68 (8, 76) -> (12, 76) construction
  line L69 (12, 76) -> (12, 78) construction
  line L70 (12, 78) -> (16, 78) construction
  line L71 (16, 78) -> (16, 76) construction
  line L72 (0, -40) -> (0, -45) construction
  line L73 (0, -45) -> (-20, -45) construction
  line L74 (-20, -45) -> (-20, -40) construction
  line L75 (-20, -40) -> (0, -40) construction
  line L76 (0, 45) -> (0, 40) construction
  line L77 (0, 40) -> (-20, 40) construction
  line L78 (-20, 40) -> (-20, 45) construction
  line L79 (-20, 45) -> (0, 45) construction
  circle A0 centre (-30.5, 97.5) radius 2 construction
  circle A1 centre (-30.5, -106.5) radius 2 construction
  circle A2 centre (10.5, -106.5) radius 2 construction
  circle A3 centre (10.5, 97.5) radius 2 construction
  line L80 (-22.5, 95) -> (-22.5, 100) construction
  line L81 (-22.5, 100) -> (2.5, 100) construction
  line L82 (2.5, 100) -> (2.5, 95) construction
  line L83 (2.5, 95) -> (-22.5, 95) construction
  line L84 (2.5, -109) -> (-22.5, -109) construction
  line L85 (-22.5, -109) -> (-22.5, -104) construction
  line L86 (-22.5, -104) -> (2.5, -104) construction
  line L87 (2.5, -104) -> (2.5, -109) construction
  line L88 (-30, -130) -> (5, -130)
  line L89 (5, -130) -> (5, -133.5)
  line L90 (5, -133.5) -> (-30, -133.5)
  line L91 (-30, -133.5) -> (-30, -130)
  line L92 (-30, 130) -> (5, 130)
  line L93 (5, 130) -> (5, 133.5)
  line L94 (5, 133.5) -> (-30, 133.5)
  line L95 (-30, 133.5) -> (-30, 130)
  point P0 (0, 0)
  dimension "d174" = 35
  dimension "d175" = 3.5
  dimension "d176" = 35
  dimension "d177" = 3.5
  dimension "d178" = 20
  dimension "d179" = 20
extrude "Extrusion8" add sketch "Sketch9" against normal blind 5
properties part number "Cubierta_Ducto_Motor"
